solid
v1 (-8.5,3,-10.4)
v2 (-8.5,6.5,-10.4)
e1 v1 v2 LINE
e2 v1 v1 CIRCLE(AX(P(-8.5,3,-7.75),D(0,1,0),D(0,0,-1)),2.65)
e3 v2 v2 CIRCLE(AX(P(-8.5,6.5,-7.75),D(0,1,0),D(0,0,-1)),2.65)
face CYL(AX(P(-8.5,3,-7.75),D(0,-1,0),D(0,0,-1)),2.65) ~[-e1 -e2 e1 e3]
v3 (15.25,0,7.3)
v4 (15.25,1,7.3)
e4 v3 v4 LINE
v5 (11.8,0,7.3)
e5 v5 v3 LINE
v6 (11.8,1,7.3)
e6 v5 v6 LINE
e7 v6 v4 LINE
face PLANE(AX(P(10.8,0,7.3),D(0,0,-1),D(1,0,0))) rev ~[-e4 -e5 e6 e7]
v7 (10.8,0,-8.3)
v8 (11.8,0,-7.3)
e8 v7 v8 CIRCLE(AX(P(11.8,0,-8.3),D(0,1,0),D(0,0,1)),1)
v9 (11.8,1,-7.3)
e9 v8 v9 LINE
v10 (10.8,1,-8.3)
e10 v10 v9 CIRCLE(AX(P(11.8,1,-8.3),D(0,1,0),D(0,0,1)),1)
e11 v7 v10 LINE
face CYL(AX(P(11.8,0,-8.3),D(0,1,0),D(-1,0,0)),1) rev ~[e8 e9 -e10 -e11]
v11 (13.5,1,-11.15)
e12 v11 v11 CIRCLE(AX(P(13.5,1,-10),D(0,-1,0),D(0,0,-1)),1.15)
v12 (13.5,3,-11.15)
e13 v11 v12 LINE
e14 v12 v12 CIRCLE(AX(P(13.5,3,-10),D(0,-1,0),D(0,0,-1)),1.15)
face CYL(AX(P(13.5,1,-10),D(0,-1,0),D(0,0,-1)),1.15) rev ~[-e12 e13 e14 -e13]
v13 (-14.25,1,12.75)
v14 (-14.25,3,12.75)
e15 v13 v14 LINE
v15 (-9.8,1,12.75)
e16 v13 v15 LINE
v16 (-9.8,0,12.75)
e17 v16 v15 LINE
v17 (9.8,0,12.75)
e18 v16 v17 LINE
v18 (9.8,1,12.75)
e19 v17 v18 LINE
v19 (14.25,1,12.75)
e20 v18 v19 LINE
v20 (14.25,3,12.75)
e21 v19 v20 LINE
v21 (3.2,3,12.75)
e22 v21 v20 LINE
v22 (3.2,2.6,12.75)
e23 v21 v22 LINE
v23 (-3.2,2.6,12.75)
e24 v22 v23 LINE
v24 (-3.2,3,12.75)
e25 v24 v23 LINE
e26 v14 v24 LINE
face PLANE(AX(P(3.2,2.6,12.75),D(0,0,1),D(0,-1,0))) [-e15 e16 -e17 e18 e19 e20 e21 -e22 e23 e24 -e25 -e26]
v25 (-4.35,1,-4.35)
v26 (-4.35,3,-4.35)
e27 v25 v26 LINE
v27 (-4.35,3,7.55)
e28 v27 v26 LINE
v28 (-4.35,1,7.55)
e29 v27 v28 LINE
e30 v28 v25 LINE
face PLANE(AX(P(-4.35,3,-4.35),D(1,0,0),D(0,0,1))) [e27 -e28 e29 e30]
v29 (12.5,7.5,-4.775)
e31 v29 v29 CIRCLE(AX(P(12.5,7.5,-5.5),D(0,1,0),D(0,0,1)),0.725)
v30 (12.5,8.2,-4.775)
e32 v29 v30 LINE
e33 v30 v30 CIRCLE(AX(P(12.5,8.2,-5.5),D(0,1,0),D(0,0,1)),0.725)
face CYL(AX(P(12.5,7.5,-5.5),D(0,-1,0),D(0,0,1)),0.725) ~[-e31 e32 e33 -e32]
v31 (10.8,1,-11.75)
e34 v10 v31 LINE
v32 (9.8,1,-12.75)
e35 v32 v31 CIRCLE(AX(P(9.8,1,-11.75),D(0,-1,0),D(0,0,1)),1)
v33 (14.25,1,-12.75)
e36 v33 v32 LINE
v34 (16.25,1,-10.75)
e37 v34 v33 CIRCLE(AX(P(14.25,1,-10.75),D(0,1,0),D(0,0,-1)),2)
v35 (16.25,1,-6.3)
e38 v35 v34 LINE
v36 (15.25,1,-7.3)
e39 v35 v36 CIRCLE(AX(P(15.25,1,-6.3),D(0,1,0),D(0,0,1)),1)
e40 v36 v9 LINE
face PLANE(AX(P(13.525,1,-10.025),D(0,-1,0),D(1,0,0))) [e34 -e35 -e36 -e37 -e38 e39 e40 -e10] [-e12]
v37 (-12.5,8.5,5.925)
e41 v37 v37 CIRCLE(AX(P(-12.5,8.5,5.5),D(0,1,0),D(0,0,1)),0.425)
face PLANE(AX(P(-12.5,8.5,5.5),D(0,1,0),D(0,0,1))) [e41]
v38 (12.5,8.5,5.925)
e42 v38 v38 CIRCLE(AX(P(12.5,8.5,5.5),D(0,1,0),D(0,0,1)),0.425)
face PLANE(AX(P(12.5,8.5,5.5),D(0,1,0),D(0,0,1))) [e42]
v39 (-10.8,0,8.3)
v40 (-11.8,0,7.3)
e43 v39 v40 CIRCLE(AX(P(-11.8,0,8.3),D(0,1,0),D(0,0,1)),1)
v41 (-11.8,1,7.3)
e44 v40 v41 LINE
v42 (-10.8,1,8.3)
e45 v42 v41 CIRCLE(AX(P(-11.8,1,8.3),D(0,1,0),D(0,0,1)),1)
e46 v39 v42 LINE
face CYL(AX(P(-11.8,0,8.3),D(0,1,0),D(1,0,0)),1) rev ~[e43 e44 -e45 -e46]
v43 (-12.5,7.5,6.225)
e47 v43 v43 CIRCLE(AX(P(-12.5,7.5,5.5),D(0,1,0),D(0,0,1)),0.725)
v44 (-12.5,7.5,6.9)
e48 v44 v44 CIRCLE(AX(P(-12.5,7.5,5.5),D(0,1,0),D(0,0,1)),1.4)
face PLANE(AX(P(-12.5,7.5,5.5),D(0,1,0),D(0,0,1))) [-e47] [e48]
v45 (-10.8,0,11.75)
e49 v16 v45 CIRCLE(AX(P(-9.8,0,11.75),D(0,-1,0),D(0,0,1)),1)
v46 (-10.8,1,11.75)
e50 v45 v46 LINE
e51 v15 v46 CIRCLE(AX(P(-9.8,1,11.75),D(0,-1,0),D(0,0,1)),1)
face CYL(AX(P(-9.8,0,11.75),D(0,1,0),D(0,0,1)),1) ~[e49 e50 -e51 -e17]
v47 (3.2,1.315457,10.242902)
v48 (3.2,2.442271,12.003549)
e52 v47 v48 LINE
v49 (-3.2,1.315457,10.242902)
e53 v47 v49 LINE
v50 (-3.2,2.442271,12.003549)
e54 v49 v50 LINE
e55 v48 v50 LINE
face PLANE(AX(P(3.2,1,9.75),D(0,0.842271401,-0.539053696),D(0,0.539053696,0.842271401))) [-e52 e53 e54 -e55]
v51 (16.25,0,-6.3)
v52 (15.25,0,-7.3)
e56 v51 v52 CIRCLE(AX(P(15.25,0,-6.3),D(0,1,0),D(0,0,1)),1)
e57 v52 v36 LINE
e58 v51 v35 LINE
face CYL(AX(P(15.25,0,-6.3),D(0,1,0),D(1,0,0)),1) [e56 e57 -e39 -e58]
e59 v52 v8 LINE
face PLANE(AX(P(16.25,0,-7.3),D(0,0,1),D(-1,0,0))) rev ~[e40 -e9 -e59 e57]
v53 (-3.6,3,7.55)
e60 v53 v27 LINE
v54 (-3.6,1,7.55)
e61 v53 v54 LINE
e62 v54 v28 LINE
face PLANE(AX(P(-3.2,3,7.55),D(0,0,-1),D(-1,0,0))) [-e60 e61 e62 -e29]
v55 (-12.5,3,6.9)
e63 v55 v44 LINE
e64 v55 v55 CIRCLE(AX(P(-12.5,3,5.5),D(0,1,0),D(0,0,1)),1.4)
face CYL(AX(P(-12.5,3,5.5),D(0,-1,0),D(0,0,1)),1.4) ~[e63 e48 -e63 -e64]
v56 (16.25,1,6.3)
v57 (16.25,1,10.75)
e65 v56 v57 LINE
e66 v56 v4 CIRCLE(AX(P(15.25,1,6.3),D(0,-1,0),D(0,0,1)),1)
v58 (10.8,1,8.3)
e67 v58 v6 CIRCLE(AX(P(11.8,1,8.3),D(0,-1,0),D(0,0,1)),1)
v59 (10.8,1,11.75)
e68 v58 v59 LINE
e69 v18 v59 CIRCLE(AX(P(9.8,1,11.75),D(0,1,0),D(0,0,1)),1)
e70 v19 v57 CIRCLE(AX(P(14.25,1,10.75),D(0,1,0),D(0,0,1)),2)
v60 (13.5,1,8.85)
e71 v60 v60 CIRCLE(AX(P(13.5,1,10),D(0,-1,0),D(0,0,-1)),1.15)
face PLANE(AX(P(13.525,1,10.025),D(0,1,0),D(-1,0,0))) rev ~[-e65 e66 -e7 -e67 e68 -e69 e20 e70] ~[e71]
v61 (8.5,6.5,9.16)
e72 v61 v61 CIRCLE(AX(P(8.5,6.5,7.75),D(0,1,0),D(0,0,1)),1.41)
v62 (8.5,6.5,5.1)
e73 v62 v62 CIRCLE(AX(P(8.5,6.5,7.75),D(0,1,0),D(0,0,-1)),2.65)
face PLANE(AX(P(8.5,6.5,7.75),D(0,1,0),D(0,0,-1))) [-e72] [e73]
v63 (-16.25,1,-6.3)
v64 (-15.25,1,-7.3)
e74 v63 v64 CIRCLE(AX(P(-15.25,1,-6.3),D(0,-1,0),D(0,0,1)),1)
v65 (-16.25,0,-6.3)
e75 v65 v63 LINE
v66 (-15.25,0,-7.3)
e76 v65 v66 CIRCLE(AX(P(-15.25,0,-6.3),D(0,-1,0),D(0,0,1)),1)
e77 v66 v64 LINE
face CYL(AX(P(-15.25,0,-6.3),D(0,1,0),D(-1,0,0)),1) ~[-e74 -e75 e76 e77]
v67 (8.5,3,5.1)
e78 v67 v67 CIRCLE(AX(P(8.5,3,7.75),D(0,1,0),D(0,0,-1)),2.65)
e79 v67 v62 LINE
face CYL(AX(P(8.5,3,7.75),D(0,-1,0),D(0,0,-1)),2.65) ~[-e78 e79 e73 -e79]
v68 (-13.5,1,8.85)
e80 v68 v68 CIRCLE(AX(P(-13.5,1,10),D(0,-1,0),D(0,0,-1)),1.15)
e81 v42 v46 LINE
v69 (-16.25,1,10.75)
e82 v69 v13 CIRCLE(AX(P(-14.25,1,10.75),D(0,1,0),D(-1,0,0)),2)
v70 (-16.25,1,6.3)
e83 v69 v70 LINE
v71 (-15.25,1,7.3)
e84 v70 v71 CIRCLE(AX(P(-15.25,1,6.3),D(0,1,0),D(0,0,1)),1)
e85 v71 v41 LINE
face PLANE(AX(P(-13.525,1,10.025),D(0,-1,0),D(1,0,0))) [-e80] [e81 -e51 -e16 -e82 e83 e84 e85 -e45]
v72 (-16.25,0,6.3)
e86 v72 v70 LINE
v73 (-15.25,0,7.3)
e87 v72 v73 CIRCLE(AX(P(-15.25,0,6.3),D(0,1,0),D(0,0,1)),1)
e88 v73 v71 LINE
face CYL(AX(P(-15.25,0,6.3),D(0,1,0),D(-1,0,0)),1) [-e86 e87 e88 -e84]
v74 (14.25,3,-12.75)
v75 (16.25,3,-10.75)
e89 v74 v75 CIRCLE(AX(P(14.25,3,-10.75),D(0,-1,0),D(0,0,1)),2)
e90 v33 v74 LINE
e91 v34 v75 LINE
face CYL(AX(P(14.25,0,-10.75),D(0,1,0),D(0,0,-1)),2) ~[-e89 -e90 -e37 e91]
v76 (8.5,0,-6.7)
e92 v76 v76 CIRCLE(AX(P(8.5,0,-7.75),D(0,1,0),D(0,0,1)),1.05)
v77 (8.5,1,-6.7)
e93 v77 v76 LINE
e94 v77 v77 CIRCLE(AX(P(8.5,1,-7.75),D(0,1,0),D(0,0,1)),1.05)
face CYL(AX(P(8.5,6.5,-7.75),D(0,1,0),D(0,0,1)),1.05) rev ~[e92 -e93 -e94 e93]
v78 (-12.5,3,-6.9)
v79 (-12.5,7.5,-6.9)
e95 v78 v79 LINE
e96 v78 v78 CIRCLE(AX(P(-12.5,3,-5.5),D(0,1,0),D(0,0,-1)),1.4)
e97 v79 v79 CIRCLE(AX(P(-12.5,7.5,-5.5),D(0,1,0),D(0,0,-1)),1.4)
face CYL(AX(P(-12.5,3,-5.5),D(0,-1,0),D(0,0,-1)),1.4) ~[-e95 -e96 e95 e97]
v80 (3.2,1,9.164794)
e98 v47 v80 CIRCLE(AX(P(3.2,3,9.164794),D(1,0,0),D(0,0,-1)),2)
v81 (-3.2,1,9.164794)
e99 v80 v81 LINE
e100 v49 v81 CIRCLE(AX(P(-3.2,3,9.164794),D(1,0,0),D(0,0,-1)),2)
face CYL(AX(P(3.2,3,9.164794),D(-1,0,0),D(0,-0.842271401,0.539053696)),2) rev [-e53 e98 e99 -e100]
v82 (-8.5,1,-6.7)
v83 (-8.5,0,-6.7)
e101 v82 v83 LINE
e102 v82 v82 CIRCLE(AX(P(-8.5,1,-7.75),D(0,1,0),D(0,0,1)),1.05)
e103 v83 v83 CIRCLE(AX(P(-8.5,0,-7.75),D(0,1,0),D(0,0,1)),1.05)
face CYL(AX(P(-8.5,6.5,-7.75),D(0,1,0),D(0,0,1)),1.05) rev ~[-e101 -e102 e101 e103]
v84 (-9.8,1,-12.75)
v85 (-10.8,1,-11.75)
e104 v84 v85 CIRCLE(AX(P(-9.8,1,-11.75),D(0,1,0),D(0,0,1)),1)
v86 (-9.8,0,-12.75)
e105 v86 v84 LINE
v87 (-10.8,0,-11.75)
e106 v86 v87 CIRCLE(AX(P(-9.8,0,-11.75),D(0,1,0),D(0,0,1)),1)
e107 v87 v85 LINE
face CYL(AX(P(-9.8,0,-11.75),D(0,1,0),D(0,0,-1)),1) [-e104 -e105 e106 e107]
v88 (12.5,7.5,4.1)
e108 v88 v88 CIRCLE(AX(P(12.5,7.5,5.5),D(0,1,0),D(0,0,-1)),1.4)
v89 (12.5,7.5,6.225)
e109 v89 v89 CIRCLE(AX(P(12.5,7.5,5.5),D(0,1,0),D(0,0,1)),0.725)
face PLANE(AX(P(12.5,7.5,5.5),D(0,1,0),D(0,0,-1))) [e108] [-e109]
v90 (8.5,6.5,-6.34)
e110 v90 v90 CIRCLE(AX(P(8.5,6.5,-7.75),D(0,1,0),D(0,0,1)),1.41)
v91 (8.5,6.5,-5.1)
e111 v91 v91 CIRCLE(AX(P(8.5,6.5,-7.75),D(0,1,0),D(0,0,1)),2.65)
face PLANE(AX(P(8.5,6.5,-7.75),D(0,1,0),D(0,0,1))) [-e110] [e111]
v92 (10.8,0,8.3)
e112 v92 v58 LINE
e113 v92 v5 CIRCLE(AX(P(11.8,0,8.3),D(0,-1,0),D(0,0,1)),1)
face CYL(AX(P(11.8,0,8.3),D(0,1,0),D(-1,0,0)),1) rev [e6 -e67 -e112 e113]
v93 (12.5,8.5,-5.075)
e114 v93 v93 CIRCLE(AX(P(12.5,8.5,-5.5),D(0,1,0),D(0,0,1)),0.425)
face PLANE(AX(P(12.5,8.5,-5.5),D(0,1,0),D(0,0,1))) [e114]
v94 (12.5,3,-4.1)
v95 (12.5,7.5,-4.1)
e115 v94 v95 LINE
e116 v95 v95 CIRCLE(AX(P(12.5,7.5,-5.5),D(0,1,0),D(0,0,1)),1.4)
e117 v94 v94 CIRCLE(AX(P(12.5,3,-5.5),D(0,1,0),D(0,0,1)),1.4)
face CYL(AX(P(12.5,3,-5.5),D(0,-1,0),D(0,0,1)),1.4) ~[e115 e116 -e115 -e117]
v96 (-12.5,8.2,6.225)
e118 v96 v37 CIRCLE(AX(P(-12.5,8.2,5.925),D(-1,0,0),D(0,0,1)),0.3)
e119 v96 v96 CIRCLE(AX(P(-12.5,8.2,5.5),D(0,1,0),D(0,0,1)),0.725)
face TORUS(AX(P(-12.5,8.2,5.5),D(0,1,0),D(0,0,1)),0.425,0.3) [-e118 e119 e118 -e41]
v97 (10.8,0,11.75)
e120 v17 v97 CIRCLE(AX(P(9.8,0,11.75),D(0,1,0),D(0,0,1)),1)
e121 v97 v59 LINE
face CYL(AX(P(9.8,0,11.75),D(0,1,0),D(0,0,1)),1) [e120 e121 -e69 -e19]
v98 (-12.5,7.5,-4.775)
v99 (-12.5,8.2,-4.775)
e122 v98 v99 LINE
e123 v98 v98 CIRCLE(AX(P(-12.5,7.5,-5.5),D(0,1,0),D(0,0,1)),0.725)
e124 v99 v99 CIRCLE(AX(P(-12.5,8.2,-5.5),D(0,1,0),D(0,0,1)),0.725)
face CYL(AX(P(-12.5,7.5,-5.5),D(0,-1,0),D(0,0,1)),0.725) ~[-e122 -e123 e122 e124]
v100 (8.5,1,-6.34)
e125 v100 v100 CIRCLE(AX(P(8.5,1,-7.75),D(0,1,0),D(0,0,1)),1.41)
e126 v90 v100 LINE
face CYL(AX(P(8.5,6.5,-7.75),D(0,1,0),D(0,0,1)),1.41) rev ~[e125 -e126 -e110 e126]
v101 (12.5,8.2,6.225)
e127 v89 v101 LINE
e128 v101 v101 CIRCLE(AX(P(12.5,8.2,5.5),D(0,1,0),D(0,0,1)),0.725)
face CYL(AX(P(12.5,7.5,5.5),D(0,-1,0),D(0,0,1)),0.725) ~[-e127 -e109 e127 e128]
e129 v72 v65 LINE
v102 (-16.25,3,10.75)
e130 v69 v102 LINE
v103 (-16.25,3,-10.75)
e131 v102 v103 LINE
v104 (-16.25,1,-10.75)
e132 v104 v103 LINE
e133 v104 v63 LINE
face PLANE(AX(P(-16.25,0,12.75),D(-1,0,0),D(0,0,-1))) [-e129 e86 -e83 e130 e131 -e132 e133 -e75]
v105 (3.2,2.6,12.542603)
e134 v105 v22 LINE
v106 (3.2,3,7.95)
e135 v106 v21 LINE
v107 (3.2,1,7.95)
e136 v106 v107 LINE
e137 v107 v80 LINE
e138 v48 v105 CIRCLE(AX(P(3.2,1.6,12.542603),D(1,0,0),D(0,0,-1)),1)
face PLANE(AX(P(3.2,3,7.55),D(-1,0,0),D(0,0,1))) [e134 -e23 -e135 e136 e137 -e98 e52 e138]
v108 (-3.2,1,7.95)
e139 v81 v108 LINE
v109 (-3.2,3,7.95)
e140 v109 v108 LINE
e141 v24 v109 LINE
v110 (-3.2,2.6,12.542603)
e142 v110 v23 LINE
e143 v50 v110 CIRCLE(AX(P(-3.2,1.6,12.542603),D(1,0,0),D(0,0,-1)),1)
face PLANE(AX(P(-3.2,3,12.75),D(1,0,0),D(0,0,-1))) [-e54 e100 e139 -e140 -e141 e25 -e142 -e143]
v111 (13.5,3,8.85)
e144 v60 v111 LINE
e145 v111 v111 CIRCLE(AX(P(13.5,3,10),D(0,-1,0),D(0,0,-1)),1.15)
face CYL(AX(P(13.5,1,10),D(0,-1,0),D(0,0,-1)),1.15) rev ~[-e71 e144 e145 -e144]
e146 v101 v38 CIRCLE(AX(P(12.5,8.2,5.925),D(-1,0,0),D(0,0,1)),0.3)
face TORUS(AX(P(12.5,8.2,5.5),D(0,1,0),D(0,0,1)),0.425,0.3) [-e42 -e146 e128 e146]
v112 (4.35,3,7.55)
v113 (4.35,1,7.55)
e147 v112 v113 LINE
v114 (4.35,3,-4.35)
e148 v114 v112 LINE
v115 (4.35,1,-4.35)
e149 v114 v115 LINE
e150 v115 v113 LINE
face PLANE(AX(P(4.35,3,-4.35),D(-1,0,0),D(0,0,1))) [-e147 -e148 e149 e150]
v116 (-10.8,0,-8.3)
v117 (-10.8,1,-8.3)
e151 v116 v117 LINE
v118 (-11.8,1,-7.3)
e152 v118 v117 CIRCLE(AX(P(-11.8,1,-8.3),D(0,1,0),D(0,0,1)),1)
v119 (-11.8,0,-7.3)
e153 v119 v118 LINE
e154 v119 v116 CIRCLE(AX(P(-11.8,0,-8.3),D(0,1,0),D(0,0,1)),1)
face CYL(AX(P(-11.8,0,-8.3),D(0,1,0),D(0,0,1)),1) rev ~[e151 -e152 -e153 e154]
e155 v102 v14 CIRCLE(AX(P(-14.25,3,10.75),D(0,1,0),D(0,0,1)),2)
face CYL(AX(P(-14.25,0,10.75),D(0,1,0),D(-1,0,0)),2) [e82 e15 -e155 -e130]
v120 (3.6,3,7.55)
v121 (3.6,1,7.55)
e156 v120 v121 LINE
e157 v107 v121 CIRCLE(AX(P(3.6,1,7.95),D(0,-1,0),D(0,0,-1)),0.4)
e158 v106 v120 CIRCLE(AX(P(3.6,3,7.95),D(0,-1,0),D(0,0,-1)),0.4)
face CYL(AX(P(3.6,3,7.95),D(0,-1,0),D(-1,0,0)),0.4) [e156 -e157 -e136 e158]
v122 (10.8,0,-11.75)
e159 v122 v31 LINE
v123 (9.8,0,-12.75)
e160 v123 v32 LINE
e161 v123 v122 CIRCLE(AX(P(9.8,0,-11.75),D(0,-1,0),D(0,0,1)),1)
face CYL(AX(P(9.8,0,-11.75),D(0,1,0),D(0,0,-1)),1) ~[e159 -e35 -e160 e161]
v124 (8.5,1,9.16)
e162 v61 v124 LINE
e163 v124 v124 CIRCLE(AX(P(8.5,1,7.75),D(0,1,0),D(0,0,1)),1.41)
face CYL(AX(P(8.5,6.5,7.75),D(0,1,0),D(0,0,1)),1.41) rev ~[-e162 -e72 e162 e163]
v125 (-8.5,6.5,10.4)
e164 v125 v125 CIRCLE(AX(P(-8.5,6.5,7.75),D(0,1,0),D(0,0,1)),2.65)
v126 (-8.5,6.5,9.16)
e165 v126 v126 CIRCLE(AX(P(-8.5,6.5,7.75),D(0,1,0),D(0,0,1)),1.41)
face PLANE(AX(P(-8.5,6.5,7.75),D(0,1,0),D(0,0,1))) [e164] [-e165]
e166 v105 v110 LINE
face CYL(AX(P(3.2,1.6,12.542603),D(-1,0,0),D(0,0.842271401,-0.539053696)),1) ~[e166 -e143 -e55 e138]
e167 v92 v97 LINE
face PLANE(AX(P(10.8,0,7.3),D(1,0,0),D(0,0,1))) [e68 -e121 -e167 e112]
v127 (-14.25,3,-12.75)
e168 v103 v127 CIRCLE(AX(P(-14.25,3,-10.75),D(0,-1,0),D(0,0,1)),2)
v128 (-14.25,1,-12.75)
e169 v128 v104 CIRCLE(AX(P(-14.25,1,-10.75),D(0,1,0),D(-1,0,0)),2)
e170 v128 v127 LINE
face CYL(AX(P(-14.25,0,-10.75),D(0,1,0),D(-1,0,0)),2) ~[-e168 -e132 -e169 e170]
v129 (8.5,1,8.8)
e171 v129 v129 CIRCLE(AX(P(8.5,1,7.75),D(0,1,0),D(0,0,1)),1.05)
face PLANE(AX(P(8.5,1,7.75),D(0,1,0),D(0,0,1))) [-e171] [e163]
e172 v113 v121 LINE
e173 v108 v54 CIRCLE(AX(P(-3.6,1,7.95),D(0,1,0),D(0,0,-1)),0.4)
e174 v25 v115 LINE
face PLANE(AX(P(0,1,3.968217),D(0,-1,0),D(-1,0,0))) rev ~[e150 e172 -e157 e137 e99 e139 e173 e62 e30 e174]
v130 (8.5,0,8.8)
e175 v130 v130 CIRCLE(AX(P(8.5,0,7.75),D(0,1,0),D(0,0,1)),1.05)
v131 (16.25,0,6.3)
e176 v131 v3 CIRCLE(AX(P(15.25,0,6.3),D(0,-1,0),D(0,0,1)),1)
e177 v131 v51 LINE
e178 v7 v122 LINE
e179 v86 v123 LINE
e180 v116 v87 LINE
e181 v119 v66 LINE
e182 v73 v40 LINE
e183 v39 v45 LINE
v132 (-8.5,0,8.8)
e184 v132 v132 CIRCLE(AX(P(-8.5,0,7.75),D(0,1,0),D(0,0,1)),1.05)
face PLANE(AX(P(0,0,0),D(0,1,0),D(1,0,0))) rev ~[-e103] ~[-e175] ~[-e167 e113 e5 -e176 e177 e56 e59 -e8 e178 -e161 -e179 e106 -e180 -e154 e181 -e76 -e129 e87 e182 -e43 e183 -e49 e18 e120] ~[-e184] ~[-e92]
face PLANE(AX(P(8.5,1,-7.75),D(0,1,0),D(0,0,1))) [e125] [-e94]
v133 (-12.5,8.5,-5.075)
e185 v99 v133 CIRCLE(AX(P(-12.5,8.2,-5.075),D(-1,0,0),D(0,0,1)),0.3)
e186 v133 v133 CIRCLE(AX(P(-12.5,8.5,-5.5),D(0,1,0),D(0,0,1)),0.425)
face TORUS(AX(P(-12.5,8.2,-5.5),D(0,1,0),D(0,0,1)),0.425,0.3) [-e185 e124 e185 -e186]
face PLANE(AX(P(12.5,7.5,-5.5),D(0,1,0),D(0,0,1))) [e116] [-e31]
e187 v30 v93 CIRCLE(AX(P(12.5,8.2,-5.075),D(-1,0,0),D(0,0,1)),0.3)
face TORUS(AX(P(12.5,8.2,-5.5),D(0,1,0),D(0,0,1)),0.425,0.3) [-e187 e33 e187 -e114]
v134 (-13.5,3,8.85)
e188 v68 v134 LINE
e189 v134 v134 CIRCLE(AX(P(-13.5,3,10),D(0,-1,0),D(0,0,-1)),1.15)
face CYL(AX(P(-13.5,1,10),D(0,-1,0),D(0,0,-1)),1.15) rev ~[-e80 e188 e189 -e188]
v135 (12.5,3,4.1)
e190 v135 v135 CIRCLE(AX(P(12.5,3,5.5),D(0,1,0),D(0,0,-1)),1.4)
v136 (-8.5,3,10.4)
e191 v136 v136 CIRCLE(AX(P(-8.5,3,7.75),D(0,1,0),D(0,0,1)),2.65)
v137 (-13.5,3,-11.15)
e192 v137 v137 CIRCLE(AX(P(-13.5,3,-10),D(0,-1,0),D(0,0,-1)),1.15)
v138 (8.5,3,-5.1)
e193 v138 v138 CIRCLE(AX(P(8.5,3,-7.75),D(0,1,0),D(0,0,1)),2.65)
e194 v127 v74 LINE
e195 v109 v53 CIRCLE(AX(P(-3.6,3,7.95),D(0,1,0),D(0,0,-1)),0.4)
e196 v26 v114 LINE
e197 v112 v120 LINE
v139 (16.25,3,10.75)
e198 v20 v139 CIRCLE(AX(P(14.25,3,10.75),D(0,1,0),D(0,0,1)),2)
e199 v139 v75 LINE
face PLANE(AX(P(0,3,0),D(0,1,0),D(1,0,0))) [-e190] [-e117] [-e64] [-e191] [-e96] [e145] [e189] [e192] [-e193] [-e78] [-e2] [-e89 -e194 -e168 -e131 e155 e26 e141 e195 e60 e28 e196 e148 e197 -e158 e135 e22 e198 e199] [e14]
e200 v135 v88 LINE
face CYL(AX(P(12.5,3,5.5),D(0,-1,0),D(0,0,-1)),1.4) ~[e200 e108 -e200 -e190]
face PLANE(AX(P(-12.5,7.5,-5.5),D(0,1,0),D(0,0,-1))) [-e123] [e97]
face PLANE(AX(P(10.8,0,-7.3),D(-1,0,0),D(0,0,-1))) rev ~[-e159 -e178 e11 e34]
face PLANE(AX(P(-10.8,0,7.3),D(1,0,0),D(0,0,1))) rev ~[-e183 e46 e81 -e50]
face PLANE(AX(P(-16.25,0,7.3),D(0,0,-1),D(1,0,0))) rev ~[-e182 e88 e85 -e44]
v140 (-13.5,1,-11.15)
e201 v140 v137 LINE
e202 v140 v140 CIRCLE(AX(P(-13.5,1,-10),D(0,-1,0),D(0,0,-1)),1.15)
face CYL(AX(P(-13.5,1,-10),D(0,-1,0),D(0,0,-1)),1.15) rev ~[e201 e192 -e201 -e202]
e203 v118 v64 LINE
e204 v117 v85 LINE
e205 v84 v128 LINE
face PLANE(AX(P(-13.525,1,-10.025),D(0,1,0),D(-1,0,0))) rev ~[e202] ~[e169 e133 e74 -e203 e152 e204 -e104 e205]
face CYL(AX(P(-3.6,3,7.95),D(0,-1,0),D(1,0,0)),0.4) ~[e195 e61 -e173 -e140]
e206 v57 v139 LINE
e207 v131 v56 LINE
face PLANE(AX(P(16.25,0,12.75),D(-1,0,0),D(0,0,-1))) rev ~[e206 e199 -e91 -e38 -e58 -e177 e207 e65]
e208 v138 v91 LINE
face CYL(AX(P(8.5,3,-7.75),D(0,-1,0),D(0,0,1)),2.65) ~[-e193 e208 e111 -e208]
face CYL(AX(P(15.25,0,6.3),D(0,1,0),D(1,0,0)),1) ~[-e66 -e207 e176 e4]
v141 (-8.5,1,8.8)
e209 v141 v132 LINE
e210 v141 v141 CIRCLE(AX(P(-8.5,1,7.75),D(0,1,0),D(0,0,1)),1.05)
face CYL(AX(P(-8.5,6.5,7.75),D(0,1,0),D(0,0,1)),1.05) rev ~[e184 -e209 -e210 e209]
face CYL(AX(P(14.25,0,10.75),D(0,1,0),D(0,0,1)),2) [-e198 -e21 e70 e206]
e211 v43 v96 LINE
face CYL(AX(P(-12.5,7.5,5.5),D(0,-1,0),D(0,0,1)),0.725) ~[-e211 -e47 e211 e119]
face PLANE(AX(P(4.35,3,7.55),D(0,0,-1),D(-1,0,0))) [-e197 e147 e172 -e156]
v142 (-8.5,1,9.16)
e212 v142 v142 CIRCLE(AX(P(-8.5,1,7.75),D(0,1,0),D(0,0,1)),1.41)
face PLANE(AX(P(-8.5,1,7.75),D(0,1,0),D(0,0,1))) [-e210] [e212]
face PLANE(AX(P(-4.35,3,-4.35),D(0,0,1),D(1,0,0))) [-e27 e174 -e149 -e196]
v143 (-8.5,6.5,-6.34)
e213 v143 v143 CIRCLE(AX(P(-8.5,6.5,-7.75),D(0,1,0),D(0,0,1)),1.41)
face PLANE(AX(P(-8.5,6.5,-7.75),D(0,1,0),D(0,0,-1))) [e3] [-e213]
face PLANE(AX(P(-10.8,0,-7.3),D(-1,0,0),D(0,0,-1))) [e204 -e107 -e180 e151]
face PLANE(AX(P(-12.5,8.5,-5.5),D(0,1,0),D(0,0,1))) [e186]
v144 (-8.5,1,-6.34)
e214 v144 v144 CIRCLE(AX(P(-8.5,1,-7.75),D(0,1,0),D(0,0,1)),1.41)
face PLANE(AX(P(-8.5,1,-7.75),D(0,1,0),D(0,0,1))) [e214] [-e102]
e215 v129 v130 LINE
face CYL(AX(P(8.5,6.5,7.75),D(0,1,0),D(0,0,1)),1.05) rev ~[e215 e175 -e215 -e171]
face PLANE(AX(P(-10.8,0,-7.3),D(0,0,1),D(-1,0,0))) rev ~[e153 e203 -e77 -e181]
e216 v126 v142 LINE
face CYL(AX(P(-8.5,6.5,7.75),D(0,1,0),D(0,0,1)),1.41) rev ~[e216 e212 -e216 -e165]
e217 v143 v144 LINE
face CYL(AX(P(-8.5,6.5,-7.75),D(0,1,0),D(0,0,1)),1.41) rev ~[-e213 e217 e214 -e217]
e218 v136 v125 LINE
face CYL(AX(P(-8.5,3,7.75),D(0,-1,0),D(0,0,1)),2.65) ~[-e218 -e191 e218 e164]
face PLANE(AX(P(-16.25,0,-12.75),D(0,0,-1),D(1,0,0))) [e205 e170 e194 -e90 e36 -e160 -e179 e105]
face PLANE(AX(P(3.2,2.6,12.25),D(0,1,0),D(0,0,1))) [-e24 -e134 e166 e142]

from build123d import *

# Parameters (mm, degrees)
SKETCH_1_W           = 32.5
SKETCH_1_H           = 25.5
EXTRUDE_1_DEPTH      = 3
EXTRUDE_2_DEPTH      = 1.5
SKETCH_5_R           = 1.4
EXTRUDE_3_DEPTH      = 4.5
SKETCH_6_R           = 0.725
EXTRUDE_4_DEPTH      = 1
SKETCH_7_R           = 1
CUT_EXTRUDE_1_DEPTH  = 10
SKETCH_8_R           = 2
CUT_EXTRUDE_2_DEPTH  = 1
FILLET_1_R           = 2
SKETCH_9_R           = 2.65
EXTRUDE_5_DEPTH      = 3.5
SKETCH_11_R          = 1.05
CUT_EXTRUDE_4_DEPTH  = 100
SKETCH_12_R          = 1.41
CUT_EXTRUDE_5_DEPTH  = 5.5
FILLET_2_R           = 0.3
CUT_EXTRUDE_8_DEPTH  = 2
CUT_EXTRUDE_9_DEPTH  = 1.5
EXTRUDE_6_DEPTH      = 6.4
FILLET_3_R           = 2
FILLET_5_R           = 1
FILLET_6_R           = 0.4
CUT_EXTRUDE_13_DEPTH = 1
FILLET_7_R           = 1
SKETCH_22_R          = 1.15
CUT_EXTRUDE_14_DEPTH = 10


with BuildPart() as part:
    # 草图1 → 凸台-拉伸1 (new body)
    with BuildSketch(Plane(origin=(0, 0, 0), x_dir=(1, 0, 0), z_dir=(0, 1, 0))):
        Rectangle(SKETCH_1_W, SKETCH_1_H)
    extrude(amount=EXTRUDE_1_DEPTH)

    # 草图2 → 凸台-拉伸2 (add)
    with BuildSketch(Plane(origin=(0, 3, 0), x_dir=(1, 0, 0), z_dir=(0, 1, 0))):
        Polygon((-5.35, 5.35), (5.35, 5.35), (5.35, -7.55), (4.35, -7.55), (4.35, 4.35), (-4.35, 4.35), (-4.35, -7.55), (-5.35, -7.55), align=None)
    extrude(amount=EXTRUDE_2_DEPTH)

    # 草图5 → 凸台-拉伸3 (add)
    with BuildSketch(Plane(origin=(0, 3, 0), x_dir=(1, 0, 0), z_dir=(0, 1, 0))):
        with Locations(Location((12.5, 5.5, 0), (0, 0, 270))):
            Circle(SKETCH_5_R)
        with Locations(Location((12.5, -5.5, 0), (0, 0, 90))):
            Circle(SKETCH_5_R)
        with Locations(Location((-12.5, -5.5, 0), (0, 0, 270))):
            Circle(SKETCH_5_R)
        with Locations(Location((-12.5, 5.5, 0), (0, 0, 90))):
            Circle(SKETCH_5_R)
    extrude(amount=EXTRUDE_3_DEPTH)

    # 草图6 → 凸台-拉伸4 (add)
    with BuildSketch(Plane(origin=(0, 7.5, 0), x_dir=(1, 0, 0), z_dir=(0, 1, 0))):
        with Locations(Location((-12.5, -5.5, 0), (0, 0, 270))):
            Circle(SKETCH_6_R)
        with Locations(Location((-12.5, 5.5, 0), (0, 0, 270))):
            Circle(SKETCH_6_R)
        with Locations(Location((12.5, 5.5, 0), (0, 0, 270))):
            Circle(SKETCH_6_R)
        with Locations(Location((12.5, -5.5, 0), (0, 0, 270))):
            Circle(SKETCH_6_R)
    extrude(amount=EXTRUDE_4_DEPTH)

    # 草图7 → 切除-拉伸1 (cut)
    with BuildSketch(Plane(origin=(0, 3, 0), x_dir=(1, 0, 0), z_dir=(0, 1, 0))):
        with Locations(Location((13.5, 10, 0), (0, 0, 270))):
            Circle(SKETCH_7_R)
        with Locations(Location((-13.5, 10, 0), (0, 0, 270))):
            Circle(SKETCH_7_R)
        with Locations(Location((-13.5, -10, 0), (0, 0, 270))):
            Circle(SKETCH_7_R)
        with Locations(Location((13.5, -10, 0), (0, 0, 270))):
            Circle(SKETCH_7_R)
    extrude(amount=-CUT_EXTRUDE_1_DEPTH, mode=Mode.SUBTRACT)

    # 草图8 → 切除-拉伸2 (cut)
    with BuildSketch(Plane.XZ):
        with Locations(Location((-13.5, 10, 0), (0, 0, 270))):
            Circle(SKETCH_8_R)
        with Locations(Location((13.5, 10, 0), (0, 0, 270))):
            Circle(SKETCH_8_R)
        with Locations(Location((13.5, -10, 0), (0, 0, 270))):
            Circle(SKETCH_8_R)
        with Locations(Location((-13.5, -10, 0), (0, 0, 270))):
            Circle(SKETCH_8_R)
    extrude(amount=-CUT_EXTRUDE_2_DEPTH, mode=Mode.SUBTRACT)

    # 圆角1
    fillet_1_edges = [part.edges().sort_by_distance(p)[0] for p in [
        (16.25, 1.5, 12.75),
        (-16.25, 1.5, 12.75),
        (-16.25, 1.5, -12.75),
        (16.25, 1.5, -12.75),
    ]]
    fillet(fillet_1_edges, radius=FILLET_1_R)

    # 草图9 → 凸台-拉伸5 (add)
    with BuildSketch(Plane(origin=(0, 3, 0), x_dir=(1, 0, 0), z_dir=(0, 1, 0))):
        with Locations(Location((8.5, 7.75, 0), (0, 0, 270))):
            Circle(SKETCH_9_R)
        with Locations(Location((-8.5, 7.75, 0), (0, 0, 90))):
            Circle(SKETCH_9_R)
        with Locations(Location((-8.5, -7.75, 0), (0, 0, 270))):
            Circle(SKETCH_9_R)
        with Locations(Location((8.5, -7.75, 0), (0, 0, 90))):
            Circle(SKETCH_9_R)
    extrude(amount=EXTRUDE_5_DEPTH)

    # 草图11 → 切除-拉伸4 (cut)
    with BuildSketch(Plane(origin=(0, 6.5, 0), x_dir=(1, 0, 0), z_dir=(0, 1, 0))):
        with Locations(Location((-8.5, 7.75, 0), (0, 0, 270))):
            Circle(SKETCH_11_R)
        with Locations(Location((-8.5, -7.75, 0), (0, 0, 270))):
            Circle(SKETCH_11_R)
        with Locations(Location((8.5, -7.75, 0), (0, 0, 270))):
            Circle(SKETCH_11_R)
        with Locations(Location((8.5, 7.75, 0), (0, 0, 270))):
            Circle(SKETCH_11_R)
    extrude(amount=-CUT_EXTRUDE_4_DEPTH, mode=Mode.SUBTRACT)

    # 草图12 → 切除-拉伸5 (cut)
    with BuildSketch(Plane(origin=(0, 6.5, 0), x_dir=(1, 0, 0), z_dir=(0, 1, 0))):
        with Locations(Location((-8.5, 7.75, 0), (0, 0, 270))):
            Circle(SKETCH_12_R)
        with Locations(Location((8.5, 7.75, 0), (0, 0, 270))):
            Circle(SKETCH_12_R)
        with Locations(Location((-8.5, -7.75, 0), (0, 0, 270))):
            Circle(SKETCH_12_R)
        with Locations(Location((8.5, -7.75, 0), (0, 0, 270))):
            Circle(SKETCH_12_R)
    extrude(amount=-CUT_EXTRUDE_5_DEPTH, mode=Mode.SUBTRACT)

    # 圆角2
    fillet_2_edges = [part.edges().sort_by_distance(p)[0] for p in [
        (-12.5, 8.5, 4.775),
        (-12.5, 8.5, -6.225),
        (12.5, 8.5, -6.225),
        (12.5, 8.5, 4.775),
    ]]
    fillet(fillet_2_edges, radius=FILLET_2_R)

    # 草图15 → 切除-拉伸8 (cut)
    with BuildSketch(Plane(origin=(0, 3, 0), x_dir=(1, 0, 0), z_dir=(0, 1, 0))):
        Polygon((-4.35, 4.35), (4.35, 4.35), (4.35, -7.55), (3.2, -7.55), (3.2, -12.75), (-3.2, -12.75), (-3.2, -7.55), (-4.35, -7.55), align=None)
    extrude(amount=-CUT_EXTRUDE_8_DEPTH, mode=Mode.SUBTRACT)

    # 草图17 → 切除-拉伸9 (cut)
    with BuildSketch(Plane(origin=(0, 4.5, 0), x_dir=(1, 0, 0), z_dir=(0, 1, 0))):
        Polygon((-4.35, -7.55), (-4.35, 4.35), (4.35, 4.35), (4.35, -7.55), (5.35, -7.55), (5.35, 5.35), (-5.35, 5.35), (-5.35, -7.55), align=None)
    extrude(amount=-CUT_EXTRUDE_9_DEPTH, mode=Mode.SUBTRACT)

    # 草图18 → 凸台-拉伸6 (add)
    with BuildSketch(Plane.ZY.offset(-3.2)):
        Polygon((12.75, 1), (9.75, 1), (12.25, 2.6), (12.75, 2.6), align=None)
    extrude(amount=EXTRUDE_6_DEPTH)

    # 圆角3
    fillet_3_edges = [part.edges().sort_by_distance(p)[0] for p in [
        (0, 1, 9.75),
    ]]
    fillet(fillet_3_edges, radius=FILLET_3_R)

    # 圆角5
    fillet_5_edges = [part.edges().sort_by_distance(p)[0] for p in [
        (0, 2.6, 12.25),
    ]]
    fillet(fillet_5_edges, radius=FILLET_5_R)

    # 圆角6
    fillet_6_edges = [part.edges().sort_by_distance(p)[0] for p in [
        (3.2, 2, 7.55),
        (-3.2, 2, 7.55),
    ]]
    fillet(fillet_6_edges, radius=FILLET_6_R)

    # 草图21 → 切除-拉伸13 (cut)
    with BuildSketch(Plane.XZ):
        Polygon((-13.5, -7.3), (-10.8, -7.3), (-10.8, -12.75), (-16.25, -12.75), (-16.25, -7.3), align=None)
        Polygon((16.25, -12.75), (16.25, -7.3), (13.5, -7.3), (10.8, -7.3), (10.8, -12.75), align=None)
        Polygon((16.25, 12.75), (16.25, 7.3), (13.5, 7.3), (10.8, 7.3), (10.8, 12.75), align=None)
        Polygon((-10.8, 12.75), (-16.25, 12.75), (-16.25, 7.3), (-13.5, 7.3), (-10.8, 7.3), align=None)
    extrude(amount=-CUT_EXTRUDE_13_DEPTH, mode=Mode.SUBTRACT)

    # 圆角7
    fillet_7_edges = [part.edges().sort_by_distance(p)[0] for p in [
        (-16.25, 0.5, 7.3),
        (-10.8, 0.5, 12.75),
        (-10.8, 0.5, 7.3),
        (10.8, 0.5, 12.75),
        (16.25, 0.5, 7.3),
        (10.8, 0.5, 7.3),
        (16.25, 0.5, -7.3),
        (10.8, 0.5, -12.75),
        (10.8, 0.5, -7.3),
        (-10.8, 0.5, -12.75),
        (-16.25, 0.5, -7.3),
        (-10.8, 0.5, -7.3),
    ]]
    fillet(fillet_7_edges, radius=FILLET_7_R)

    # 草图22 → 切除-拉伸14 (cut)
    with BuildSketch(Plane.XZ.offset(-1)):
        with Locations(Location((13.5, -10, 0), (0, 0, 270))):
            Circle(SKETCH_22_R)
        with Locations(Location((13.5, 10, 0), (0, 0, 270))):
            Circle(SKETCH_22_R)
        with Locations(Location((-13.5, 10, 0), (0, 0, 270))):
            Circle(SKETCH_22_R)
        with Locations(Location((-13.5, -10, 0), (0, 0, 270))):
            Circle(SKETCH_22_R)
    extrude(amount=-CUT_EXTRUDE_14_DEPTH, mode=Mode.SUBTRACT)


solid = part.part
